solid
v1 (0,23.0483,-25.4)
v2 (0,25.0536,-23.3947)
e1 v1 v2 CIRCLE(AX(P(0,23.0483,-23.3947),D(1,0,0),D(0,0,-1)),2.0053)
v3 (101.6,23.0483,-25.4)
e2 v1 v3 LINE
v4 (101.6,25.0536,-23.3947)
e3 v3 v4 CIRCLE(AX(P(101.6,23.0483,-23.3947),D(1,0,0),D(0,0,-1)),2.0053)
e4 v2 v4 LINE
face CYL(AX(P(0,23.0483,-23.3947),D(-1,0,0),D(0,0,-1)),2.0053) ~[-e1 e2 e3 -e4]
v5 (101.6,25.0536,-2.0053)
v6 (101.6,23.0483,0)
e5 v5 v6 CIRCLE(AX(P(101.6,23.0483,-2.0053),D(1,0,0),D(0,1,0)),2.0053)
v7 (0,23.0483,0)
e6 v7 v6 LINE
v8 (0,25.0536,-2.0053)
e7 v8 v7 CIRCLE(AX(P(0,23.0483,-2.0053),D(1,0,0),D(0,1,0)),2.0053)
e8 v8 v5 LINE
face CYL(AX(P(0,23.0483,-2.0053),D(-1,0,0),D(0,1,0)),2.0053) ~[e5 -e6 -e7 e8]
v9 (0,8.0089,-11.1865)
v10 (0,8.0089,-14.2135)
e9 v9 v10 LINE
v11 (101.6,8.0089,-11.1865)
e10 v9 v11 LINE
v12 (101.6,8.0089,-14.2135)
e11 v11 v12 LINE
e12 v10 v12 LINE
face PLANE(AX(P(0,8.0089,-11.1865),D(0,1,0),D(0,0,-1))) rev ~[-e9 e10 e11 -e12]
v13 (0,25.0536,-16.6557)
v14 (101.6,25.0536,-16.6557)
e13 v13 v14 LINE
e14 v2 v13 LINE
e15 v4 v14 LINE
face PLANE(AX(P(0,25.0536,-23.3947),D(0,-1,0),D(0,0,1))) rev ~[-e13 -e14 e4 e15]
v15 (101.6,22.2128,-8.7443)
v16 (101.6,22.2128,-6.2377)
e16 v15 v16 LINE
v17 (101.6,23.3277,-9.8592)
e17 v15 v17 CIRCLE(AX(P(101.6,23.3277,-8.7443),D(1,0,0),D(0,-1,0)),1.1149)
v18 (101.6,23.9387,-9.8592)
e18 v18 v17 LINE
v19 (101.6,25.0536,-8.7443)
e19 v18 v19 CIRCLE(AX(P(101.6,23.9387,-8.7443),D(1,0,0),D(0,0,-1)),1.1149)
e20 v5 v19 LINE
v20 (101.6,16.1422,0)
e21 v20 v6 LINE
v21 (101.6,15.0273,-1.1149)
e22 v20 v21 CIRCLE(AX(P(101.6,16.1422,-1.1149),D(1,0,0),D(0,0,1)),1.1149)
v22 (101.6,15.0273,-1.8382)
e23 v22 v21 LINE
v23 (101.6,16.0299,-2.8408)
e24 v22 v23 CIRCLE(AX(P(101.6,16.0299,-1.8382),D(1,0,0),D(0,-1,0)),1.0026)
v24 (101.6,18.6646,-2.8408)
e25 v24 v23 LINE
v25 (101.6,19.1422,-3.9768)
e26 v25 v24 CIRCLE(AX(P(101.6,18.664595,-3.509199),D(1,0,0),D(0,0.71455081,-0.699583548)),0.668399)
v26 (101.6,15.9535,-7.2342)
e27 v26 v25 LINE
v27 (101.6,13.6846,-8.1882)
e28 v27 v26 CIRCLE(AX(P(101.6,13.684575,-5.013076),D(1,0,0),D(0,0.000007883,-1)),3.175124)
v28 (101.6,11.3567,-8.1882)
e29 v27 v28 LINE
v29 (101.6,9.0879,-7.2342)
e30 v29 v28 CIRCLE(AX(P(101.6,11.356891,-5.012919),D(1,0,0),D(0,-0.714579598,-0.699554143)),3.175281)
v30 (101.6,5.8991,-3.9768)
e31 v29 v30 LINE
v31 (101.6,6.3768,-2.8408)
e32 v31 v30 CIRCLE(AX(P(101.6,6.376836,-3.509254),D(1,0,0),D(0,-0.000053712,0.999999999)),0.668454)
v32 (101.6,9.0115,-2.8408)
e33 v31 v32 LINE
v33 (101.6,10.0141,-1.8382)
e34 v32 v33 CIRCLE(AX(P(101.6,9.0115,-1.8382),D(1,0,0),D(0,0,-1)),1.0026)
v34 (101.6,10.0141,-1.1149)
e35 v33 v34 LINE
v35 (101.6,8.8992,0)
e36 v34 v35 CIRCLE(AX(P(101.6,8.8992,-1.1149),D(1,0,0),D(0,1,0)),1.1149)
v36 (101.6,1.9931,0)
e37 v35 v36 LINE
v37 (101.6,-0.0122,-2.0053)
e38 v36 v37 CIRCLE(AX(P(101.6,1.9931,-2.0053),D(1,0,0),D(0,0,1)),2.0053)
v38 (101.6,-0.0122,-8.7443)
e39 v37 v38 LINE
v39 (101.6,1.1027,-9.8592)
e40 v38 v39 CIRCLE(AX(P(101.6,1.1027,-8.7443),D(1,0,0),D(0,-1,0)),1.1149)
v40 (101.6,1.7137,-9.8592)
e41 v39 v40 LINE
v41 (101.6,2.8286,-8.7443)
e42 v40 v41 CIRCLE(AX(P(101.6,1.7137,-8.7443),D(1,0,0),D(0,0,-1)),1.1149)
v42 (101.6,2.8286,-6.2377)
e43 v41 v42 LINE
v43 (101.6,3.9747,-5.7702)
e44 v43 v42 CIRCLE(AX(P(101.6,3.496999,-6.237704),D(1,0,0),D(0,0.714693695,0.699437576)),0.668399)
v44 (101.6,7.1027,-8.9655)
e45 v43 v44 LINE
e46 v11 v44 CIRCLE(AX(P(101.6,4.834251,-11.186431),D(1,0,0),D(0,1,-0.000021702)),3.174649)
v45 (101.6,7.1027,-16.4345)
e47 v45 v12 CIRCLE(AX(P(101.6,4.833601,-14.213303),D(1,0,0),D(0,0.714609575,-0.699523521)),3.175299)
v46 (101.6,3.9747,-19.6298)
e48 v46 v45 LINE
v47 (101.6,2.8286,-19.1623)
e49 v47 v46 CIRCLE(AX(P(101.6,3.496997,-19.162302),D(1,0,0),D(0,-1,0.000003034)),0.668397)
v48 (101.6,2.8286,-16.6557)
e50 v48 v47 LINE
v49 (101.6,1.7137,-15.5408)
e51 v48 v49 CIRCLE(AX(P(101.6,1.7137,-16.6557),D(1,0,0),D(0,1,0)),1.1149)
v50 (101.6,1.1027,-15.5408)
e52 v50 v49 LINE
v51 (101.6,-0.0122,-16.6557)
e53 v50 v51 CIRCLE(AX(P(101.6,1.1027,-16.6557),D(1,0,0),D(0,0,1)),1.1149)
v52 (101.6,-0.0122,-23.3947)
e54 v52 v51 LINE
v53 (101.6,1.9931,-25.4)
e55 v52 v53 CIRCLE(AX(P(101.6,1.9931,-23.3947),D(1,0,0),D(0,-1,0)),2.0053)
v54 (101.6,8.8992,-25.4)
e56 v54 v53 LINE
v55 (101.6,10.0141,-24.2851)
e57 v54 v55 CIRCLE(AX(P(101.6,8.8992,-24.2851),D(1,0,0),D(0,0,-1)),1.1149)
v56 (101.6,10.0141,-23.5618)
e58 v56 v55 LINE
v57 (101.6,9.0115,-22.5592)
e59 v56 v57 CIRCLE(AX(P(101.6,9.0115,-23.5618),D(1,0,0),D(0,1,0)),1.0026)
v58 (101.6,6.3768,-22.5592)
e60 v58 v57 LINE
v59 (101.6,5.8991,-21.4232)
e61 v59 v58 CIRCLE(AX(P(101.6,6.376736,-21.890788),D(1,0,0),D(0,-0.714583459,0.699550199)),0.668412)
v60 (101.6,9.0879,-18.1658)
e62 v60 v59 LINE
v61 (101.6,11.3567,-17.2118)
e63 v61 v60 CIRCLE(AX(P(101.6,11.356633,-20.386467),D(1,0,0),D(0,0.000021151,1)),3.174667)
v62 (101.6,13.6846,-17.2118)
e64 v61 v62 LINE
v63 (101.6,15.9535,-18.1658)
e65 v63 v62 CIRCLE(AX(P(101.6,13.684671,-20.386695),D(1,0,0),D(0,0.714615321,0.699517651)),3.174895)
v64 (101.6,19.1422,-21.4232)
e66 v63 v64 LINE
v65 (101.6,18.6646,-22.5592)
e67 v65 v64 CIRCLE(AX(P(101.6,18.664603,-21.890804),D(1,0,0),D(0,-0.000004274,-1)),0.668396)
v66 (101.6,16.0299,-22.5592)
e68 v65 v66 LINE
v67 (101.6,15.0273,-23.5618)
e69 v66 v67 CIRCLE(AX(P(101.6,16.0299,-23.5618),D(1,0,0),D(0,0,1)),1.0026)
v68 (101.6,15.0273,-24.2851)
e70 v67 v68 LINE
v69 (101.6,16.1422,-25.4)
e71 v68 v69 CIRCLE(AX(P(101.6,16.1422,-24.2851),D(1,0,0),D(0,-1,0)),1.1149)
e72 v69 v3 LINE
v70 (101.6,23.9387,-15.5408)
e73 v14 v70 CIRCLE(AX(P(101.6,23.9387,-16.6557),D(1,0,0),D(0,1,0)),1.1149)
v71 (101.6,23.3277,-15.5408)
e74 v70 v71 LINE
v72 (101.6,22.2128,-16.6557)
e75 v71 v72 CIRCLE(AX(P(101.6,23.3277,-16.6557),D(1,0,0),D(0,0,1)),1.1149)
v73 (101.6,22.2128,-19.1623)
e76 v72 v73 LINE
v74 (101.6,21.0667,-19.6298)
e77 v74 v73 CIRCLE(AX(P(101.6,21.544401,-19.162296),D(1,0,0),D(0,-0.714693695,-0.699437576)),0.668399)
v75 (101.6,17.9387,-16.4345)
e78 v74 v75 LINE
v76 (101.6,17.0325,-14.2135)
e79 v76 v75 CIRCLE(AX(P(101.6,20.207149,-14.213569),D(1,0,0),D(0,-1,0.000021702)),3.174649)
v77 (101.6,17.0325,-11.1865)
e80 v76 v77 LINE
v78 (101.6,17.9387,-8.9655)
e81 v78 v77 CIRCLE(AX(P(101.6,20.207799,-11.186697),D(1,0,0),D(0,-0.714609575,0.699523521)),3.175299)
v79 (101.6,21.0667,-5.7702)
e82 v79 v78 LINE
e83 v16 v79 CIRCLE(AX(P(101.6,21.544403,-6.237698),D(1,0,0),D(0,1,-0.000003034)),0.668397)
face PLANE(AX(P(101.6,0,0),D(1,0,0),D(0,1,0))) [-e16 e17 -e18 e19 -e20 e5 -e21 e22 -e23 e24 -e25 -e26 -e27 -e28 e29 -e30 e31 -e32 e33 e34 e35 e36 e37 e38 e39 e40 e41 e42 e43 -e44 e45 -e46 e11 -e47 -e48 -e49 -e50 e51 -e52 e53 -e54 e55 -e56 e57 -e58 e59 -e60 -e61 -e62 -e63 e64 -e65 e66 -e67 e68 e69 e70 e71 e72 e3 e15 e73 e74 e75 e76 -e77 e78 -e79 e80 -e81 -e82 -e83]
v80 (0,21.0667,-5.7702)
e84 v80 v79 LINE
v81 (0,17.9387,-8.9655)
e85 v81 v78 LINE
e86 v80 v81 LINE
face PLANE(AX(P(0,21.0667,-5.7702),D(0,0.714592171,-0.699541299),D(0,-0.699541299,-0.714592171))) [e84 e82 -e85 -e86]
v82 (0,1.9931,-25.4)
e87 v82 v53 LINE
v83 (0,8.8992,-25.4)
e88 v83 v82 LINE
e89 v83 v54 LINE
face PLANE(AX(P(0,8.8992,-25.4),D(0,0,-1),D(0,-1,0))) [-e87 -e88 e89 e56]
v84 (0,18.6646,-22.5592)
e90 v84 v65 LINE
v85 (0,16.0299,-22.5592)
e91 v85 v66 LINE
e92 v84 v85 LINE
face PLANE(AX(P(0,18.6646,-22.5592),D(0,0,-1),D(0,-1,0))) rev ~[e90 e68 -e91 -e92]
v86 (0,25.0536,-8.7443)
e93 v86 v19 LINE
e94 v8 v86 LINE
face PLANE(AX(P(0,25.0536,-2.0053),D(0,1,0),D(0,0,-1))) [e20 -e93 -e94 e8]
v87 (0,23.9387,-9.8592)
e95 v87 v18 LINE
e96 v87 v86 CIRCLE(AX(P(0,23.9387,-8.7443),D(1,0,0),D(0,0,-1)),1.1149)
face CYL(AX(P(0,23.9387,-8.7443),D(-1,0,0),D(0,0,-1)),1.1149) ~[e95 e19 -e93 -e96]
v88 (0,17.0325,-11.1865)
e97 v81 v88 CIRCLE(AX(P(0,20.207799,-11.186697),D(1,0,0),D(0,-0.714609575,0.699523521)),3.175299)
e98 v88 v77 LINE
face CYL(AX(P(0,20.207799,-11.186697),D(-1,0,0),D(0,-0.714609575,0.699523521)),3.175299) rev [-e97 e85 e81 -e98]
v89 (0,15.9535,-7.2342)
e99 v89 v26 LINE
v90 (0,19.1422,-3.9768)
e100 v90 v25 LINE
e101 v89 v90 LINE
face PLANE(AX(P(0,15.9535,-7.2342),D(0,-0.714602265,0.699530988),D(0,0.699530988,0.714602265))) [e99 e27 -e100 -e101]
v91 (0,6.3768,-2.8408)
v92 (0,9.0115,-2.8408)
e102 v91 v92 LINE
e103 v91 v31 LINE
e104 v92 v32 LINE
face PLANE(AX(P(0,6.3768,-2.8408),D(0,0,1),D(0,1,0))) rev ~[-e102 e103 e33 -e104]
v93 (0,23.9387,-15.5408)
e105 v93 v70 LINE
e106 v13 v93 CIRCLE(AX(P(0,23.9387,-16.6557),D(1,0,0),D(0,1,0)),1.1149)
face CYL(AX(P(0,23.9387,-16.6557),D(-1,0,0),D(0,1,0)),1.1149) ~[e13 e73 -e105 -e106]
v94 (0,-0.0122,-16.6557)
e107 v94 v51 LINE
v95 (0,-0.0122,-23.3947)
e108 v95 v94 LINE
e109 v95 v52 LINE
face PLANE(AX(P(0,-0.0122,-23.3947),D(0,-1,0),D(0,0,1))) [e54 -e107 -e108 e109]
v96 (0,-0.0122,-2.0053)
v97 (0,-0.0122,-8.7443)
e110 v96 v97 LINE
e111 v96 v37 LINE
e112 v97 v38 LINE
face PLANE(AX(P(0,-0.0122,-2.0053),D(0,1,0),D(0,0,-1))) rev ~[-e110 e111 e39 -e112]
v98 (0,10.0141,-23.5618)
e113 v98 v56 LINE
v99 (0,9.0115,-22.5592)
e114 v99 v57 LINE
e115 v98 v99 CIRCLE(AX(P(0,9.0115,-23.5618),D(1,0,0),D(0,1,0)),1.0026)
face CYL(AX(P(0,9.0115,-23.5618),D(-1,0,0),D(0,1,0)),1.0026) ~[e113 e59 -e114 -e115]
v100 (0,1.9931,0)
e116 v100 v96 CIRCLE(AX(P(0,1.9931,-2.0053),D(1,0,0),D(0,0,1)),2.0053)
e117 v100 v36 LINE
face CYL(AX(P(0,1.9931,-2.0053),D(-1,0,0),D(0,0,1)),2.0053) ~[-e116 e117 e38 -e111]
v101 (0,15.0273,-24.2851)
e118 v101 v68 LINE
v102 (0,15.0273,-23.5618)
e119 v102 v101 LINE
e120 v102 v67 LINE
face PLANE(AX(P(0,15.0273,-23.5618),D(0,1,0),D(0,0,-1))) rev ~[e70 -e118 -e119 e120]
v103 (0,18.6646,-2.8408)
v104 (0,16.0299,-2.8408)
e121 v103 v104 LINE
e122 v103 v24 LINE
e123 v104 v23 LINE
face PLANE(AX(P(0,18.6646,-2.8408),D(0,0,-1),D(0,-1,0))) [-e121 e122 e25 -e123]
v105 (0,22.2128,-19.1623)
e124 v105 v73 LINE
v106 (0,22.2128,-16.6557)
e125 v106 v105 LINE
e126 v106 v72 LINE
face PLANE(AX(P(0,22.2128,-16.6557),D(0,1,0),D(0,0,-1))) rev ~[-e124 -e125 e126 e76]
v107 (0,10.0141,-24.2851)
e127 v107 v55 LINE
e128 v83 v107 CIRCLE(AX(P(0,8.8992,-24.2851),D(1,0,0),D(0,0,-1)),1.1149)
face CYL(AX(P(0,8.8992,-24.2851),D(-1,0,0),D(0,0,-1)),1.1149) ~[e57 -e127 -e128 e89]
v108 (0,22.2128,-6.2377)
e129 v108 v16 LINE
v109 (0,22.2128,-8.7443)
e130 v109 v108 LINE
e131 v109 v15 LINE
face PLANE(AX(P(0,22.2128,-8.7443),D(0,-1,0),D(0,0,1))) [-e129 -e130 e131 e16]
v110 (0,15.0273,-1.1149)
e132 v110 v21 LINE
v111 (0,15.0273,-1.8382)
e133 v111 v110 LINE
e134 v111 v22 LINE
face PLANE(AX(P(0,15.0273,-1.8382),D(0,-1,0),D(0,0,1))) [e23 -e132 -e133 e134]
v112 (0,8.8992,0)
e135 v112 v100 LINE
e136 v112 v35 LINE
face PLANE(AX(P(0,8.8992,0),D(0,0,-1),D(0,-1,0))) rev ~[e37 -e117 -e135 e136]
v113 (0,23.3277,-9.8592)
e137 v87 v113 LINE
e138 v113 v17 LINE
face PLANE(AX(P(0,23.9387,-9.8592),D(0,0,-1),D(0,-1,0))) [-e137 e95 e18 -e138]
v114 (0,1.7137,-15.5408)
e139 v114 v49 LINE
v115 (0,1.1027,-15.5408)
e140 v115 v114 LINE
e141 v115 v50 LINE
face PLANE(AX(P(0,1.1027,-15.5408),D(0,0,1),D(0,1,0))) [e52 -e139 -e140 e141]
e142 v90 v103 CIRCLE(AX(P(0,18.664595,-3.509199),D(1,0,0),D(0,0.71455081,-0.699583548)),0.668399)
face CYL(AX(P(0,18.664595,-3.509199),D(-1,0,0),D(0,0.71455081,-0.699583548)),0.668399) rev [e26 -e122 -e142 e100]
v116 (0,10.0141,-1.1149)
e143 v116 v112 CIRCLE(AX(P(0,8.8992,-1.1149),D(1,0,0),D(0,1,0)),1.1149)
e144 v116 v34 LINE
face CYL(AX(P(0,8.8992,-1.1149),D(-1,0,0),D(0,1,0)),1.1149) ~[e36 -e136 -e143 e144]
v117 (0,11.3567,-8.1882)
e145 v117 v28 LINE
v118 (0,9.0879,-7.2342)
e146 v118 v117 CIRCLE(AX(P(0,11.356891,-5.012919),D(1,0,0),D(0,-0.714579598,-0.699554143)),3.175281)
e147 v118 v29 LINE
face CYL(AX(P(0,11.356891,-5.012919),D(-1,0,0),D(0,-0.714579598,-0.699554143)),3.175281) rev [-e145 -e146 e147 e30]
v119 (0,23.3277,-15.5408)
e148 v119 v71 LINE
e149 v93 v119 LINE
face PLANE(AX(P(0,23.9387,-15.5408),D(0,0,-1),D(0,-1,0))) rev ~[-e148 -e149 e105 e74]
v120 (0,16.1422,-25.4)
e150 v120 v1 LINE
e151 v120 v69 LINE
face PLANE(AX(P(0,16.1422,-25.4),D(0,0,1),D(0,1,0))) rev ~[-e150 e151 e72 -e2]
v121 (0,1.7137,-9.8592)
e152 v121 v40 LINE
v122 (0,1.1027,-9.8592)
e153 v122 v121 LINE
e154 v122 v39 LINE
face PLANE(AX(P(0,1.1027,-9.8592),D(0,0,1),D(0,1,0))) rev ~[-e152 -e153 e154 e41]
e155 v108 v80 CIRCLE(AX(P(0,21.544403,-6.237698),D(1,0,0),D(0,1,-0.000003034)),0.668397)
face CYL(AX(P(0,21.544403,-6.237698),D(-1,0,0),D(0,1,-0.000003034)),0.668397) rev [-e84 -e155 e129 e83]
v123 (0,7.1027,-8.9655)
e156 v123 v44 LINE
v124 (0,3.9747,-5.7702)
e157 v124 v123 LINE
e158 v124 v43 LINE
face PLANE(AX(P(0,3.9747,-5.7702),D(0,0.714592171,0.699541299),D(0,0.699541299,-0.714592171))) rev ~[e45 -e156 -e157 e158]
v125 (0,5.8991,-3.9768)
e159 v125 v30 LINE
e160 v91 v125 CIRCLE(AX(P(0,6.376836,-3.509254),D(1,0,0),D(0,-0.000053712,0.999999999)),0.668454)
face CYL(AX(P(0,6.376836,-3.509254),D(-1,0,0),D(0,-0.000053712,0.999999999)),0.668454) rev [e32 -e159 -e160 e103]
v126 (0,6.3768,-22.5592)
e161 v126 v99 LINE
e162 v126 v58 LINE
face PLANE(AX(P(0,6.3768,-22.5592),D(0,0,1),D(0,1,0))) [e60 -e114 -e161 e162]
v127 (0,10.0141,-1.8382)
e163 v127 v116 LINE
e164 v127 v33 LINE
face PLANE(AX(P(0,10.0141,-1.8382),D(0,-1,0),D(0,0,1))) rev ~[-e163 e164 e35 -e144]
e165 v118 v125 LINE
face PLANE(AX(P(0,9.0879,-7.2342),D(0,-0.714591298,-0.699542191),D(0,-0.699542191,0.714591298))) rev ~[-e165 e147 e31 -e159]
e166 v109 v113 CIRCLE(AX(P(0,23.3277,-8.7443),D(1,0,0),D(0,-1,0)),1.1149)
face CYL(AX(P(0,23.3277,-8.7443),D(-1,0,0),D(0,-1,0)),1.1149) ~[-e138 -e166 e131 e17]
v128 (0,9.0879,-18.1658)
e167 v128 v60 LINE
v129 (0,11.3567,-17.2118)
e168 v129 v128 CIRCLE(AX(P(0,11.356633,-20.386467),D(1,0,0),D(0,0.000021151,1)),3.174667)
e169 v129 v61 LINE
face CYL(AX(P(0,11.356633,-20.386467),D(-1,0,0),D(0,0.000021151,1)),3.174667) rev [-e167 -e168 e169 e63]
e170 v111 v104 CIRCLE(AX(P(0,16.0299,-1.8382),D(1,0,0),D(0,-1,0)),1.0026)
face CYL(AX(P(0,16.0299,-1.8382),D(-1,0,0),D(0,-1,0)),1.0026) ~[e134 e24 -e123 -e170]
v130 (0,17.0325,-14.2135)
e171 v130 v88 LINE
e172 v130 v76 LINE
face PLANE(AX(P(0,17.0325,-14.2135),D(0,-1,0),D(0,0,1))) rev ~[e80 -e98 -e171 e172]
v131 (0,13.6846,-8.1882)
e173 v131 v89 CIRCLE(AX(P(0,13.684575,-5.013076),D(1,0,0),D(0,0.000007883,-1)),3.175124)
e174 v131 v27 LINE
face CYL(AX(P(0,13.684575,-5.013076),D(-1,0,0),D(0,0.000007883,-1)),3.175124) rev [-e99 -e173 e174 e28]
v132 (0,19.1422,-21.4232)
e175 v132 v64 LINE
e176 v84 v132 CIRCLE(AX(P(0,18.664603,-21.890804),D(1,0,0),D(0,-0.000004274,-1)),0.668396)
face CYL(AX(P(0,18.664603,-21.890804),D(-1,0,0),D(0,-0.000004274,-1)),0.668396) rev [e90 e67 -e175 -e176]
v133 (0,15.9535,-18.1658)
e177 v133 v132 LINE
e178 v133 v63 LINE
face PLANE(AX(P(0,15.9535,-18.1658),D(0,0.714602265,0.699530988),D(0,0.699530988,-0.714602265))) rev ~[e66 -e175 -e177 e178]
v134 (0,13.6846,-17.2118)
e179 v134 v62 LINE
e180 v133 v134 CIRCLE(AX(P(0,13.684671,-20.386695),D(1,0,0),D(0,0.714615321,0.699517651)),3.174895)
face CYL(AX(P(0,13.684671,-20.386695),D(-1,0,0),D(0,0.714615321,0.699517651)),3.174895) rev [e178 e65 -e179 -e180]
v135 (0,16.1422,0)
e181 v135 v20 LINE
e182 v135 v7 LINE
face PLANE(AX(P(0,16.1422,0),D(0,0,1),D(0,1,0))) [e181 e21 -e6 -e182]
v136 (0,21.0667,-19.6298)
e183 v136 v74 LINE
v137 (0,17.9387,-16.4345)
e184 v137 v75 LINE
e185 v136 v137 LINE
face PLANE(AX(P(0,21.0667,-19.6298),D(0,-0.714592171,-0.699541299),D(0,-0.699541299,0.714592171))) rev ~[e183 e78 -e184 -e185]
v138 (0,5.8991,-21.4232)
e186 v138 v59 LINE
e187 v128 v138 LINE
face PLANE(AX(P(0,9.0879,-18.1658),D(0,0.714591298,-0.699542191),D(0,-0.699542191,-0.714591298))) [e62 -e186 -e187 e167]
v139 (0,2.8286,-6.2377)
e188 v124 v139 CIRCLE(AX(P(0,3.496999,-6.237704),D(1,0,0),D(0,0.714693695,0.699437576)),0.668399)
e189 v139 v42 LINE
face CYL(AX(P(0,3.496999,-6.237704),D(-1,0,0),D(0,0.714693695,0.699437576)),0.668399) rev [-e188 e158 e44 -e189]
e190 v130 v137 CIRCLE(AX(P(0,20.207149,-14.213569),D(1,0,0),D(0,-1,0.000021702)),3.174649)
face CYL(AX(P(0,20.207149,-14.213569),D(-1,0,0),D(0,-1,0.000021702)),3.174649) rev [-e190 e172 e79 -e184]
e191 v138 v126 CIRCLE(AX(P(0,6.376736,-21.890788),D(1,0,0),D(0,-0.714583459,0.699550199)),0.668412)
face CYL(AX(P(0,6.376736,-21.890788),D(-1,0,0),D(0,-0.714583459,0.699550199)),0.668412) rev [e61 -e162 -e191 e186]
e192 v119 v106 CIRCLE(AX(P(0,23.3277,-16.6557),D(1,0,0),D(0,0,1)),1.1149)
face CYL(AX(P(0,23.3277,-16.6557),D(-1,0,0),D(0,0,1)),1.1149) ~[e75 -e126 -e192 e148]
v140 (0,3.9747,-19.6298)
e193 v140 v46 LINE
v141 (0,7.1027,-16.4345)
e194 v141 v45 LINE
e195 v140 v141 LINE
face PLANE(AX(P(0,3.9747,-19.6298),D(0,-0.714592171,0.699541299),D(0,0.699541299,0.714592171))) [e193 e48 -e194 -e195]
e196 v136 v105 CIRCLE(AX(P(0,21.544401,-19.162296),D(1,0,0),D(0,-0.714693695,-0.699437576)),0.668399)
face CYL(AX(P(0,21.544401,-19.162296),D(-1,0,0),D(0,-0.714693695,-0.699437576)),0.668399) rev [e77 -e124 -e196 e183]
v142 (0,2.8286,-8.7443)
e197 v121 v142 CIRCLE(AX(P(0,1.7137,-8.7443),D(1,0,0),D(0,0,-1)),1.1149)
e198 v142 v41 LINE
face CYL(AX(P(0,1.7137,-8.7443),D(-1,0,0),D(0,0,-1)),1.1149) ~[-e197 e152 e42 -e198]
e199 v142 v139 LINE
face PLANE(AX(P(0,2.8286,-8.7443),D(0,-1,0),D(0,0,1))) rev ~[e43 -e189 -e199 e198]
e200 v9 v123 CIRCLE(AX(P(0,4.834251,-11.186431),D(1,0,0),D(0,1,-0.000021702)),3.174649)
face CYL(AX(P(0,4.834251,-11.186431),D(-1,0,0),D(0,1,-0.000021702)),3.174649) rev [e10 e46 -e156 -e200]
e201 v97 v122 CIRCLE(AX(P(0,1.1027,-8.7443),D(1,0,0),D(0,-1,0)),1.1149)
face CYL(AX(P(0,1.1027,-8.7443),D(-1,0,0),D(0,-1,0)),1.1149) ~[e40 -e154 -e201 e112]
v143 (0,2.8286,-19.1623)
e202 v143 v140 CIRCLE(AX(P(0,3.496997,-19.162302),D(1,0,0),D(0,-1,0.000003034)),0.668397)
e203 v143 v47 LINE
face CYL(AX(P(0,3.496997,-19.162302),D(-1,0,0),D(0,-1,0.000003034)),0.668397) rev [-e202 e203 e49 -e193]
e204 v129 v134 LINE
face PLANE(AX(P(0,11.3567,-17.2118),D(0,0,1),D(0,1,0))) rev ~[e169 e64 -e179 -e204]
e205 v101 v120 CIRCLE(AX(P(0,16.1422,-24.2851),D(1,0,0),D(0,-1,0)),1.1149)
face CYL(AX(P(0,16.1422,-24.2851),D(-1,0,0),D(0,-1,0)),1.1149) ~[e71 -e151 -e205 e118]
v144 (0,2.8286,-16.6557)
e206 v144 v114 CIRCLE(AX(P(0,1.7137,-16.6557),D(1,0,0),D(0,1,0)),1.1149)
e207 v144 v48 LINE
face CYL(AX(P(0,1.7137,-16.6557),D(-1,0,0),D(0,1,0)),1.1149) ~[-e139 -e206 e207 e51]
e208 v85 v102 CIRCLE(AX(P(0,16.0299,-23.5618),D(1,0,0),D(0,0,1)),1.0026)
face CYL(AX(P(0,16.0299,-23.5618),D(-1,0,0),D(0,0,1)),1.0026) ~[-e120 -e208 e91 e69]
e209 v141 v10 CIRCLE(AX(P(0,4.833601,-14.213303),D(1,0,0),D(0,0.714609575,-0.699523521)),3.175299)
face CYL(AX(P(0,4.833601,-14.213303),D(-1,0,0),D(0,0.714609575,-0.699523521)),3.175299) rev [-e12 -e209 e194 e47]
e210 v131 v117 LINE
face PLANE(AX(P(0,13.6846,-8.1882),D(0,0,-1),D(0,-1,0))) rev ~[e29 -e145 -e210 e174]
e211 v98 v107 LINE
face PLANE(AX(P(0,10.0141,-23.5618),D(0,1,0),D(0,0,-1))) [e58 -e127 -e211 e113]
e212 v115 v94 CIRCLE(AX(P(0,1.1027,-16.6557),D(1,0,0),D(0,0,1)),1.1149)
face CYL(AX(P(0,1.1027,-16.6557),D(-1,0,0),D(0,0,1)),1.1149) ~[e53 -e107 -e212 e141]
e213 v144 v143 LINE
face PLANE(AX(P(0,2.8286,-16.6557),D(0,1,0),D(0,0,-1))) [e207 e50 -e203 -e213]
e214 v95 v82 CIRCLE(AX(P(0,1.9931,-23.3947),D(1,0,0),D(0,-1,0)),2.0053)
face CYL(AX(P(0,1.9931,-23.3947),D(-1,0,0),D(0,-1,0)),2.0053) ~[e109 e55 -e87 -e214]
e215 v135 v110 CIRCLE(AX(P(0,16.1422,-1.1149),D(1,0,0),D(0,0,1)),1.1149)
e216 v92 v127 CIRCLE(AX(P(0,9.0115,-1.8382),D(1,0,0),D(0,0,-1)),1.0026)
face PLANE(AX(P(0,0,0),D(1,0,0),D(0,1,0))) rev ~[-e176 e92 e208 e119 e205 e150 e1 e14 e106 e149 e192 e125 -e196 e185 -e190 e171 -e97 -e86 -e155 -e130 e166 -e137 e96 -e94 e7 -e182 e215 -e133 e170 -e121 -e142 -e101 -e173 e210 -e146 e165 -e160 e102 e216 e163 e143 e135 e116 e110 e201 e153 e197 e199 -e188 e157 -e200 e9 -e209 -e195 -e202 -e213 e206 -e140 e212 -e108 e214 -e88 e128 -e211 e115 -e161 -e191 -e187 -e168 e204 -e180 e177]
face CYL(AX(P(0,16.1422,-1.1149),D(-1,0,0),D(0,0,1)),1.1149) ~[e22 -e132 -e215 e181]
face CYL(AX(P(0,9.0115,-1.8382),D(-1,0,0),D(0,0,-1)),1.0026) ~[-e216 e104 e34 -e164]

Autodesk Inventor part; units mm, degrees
ref_plane "YZ Plane" through (0, 0, 0) normal (1, 0, 0) x (0, 1, 0)
ref_plane "XZ Plane" through (0, 0, 0) normal (0, 1, 0) x (-1, 0, 0)
ref_plane "XY Plane" through (0, 0, 0) normal (0, 0, 1) x (1, 0, 0)
sketch "Sketch1" plane through (0, 0, 0) normal (1, 0, 0) x (0, 1, 0)
  arc A0 (19.1422, -3.9768) -> (18.6646, -2.8408) centre (18.6646, -3.5092) ccw
  line L0 (15.9535, -7.2342) -> (19.1422, -3.9768)
  line L1 (21.0667, -5.7702) -> (17.9387, -8.9655)
  arc A1 (22.2128, -6.2377) -> (21.0667, -5.7702) centre (21.5444, -6.2377) ccw
  line L2 (25.0536, -2.0053) -> (25.0536, -8.7443)
  line L3 (22.2128, -8.7443) -> (22.2128, -6.2377)
  line L4 (-0.0122, -2.0053) -> (-0.0122, -8.7443)
  arc A2 (3.9747, -5.7702) -> (2.8286, -6.2377) centre (3.497, -6.2377) ccw
  arc A3 (1.9931, 0) -> (-0.0122, -2.0053) centre (1.9931, -2.0053) ccw
  line L5 (8.8992, 0) -> (1.9931, 0)
  arc A4 (7.1027, -16.4345) -> (8.0089, -14.2135) centre (4.8339, -14.2135) ccw
  arc A5 (18.6646, -22.5592) -> (19.1422, -21.4232) centre (18.6646, -21.8908) ccw
  line L6 (15.9535, -18.1658) -> (19.1422, -21.4232)
  arc A6 (21.0667, -19.6298) -> (22.2128, -19.1623) centre (21.5444, -19.1623) ccw
  line L7 (21.0667, -19.6298) -> (17.9387, -16.4345)
  line L8 (22.2128, -16.6557) -> (22.2128, -19.1623)
  line L9 (25.0536, -23.3947) -> (25.0536, -16.6557)
  line L10 (16.1422, 0) -> (23.0483, 0)
  line L11 (18.6646, -2.8408) -> (16.0299, -2.8408)
  arc A7 (22.2128, -8.7443) -> (23.3277, -9.8592) centre (23.3277, -8.7443) ccw
  line L12 (23.9387, -9.8592) -> (23.3277, -9.8592)
  arc A8 (23.9387, -9.8592) -> (25.0536, -8.7443) centre (23.9387, -8.7443) ccw
  arc A9 (6.3768, -2.8408) -> (5.8991, -3.9768) centre (6.3768, -3.5092) ccw
  line L13 (3.9747, -5.7702) -> (7.1027, -8.9655)
  line L14 (9.0879, -7.2342) -> (5.8991, -3.9768)
  arc A10 (2.8286, -19.1623) -> (3.9747, -19.6298) centre (3.497, -19.1623) ccw
  line L15 (-0.0122, -23.3947) -> (-0.0122, -16.6557)
  line L16 (3.9747, -19.6298) -> (7.1027, -16.4345)
  arc A11 (5.8991, -21.4232) -> (6.3768, -22.5592) centre (6.3768, -21.8908) ccw
  line L17 (9.0879, -18.1658) -> (5.8991, -21.4232)
  line L18 (2.8286, -16.6557) -> (2.8286, -19.1623)
  arc A12 (23.0483, -25.4) -> (25.0536, -23.3947) centre (23.0483, -23.3947) ccw
  arc A13 (25.0536, -2.0053) -> (23.0483, 0) centre (23.0483, -2.0053) ccw
  arc A14 (13.6846, -8.1882) -> (15.9535, -7.2342) centre (13.6846, -5.0132) ccw
  line L19 (13.6846, -8.1882) -> (11.3567, -8.1882)
  arc A15 (9.0115, -2.8408) -> (10.0141, -1.8382) centre (9.0115, -1.8382) ccw
  arc A16 (9.0879, -7.2342) -> (11.3567, -8.1882) centre (11.3567, -5.0132) ccw
  arc A17 (17.9387, -8.9655) -> (17.0325, -11.1865) centre (20.2075, -11.1865) ccw
  line L20 (17.0325, -14.2135) -> (17.0325, -11.1865)
  line L21 (6.3768, -2.8408) -> (9.0115, -2.8408)
  line L22 (10.0141, -1.8382) -> (10.0141, -1.1149)
  arc A18 (10.0141, -1.1149) -> (8.8992, 0) centre (8.8992, -1.1149) ccw
  line L23 (2.8286, -8.7443) -> (2.8286, -6.2377)
  arc A19 (1.7137, -9.8592) -> (2.8286, -8.7443) centre (1.7137, -8.7443) ccw
  line L24 (1.1027, -9.8592) -> (1.7137, -9.8592)
  arc A20 (-0.0122, -8.7443) -> (1.1027, -9.8592) centre (1.1027, -8.7443) ccw
  line L25 (6.3768, -22.5592) -> (9.0115, -22.5592)
  arc A21 (10.0141, -23.5618) -> (9.0115, -22.5592) centre (9.0115, -23.5618) ccw
  line L26 (10.0141, -23.5618) -> (10.0141, -24.2851)
  arc A22 (8.8992, -25.4) -> (10.0141, -24.2851) centre (8.8992, -24.2851) ccw
  line L27 (8.8992, -25.4) -> (1.9931, -25.4)
  arc A23 (17.0325, -14.2135) -> (17.9387, -16.4345) centre (20.2075, -14.2135) ccw
  line L28 (23.9387, -15.5408) -> (23.3277, -15.5408)
  arc A24 (23.3277, -15.5408) -> (22.2128, -16.6557) centre (23.3277, -16.6557) ccw
  arc A25 (25.0536, -16.6557) -> (23.9387, -15.5408) centre (23.9387, -16.6557) ccw
  line L29 (16.1422, -25.4) -> (23.0483, -25.4)
  line L30 (18.6646, -22.5592) -> (16.0299, -22.5592)
  line L31 (8.0089, -11.1865) -> (8.0089, -14.2135)
  arc A26 (8.0089, -11.1865) -> (7.1027, -8.9655) centre (4.8339, -11.1865) ccw
  arc A27 (15.0273, -1.8382) -> (16.0299, -2.8408) centre (16.0299, -1.8382) ccw
  line L32 (15.0273, -1.8382) -> (15.0273, -1.1149)
  arc A28 (16.1422, 0) -> (15.0273, -1.1149) centre (16.1422, -1.1149) ccw
  arc A29 (-0.0122, -23.3947) -> (1.9931, -25.4) centre (1.9931, -23.3947) ccw
  arc A30 (11.3567, -17.2118) -> (9.0879, -18.1658) centre (11.3567, -20.3868) ccw
  line L33 (11.3567, -17.2118) -> (13.6846, -17.2118)
  arc A31 (15.9535, -18.1658) -> (13.6846, -17.2118) centre (13.6846, -20.3868) ccw
  arc A32 (16.0299, -22.5592) -> (15.0273, -23.5618) centre (16.0299, -23.5618) ccw
  line L34 (15.0273, -23.5618) -> (15.0273, -24.2851)
  arc A33 (15.0273, -24.2851) -> (16.1422, -25.4) centre (16.1422, -24.2851) ccw
  line L35 (1.1027, -15.5408) -> (1.7137, -15.5408)
  arc A34 (1.1027, -15.5408) -> (-0.0122, -16.6557) centre (1.1027, -16.6557) ccw
  arc A35 (2.8286, -16.6557) -> (1.7137, -15.5408) centre (1.7137, -16.6557) ccw
  point P0 (0, 0)
  point P1 (12.5207, -12.7)
  dimension "d0" = 25.4
extrude "Extrusion1" add sketch "Sketch1" along normal blind 101.6
properties part number "extruded aluminum"
